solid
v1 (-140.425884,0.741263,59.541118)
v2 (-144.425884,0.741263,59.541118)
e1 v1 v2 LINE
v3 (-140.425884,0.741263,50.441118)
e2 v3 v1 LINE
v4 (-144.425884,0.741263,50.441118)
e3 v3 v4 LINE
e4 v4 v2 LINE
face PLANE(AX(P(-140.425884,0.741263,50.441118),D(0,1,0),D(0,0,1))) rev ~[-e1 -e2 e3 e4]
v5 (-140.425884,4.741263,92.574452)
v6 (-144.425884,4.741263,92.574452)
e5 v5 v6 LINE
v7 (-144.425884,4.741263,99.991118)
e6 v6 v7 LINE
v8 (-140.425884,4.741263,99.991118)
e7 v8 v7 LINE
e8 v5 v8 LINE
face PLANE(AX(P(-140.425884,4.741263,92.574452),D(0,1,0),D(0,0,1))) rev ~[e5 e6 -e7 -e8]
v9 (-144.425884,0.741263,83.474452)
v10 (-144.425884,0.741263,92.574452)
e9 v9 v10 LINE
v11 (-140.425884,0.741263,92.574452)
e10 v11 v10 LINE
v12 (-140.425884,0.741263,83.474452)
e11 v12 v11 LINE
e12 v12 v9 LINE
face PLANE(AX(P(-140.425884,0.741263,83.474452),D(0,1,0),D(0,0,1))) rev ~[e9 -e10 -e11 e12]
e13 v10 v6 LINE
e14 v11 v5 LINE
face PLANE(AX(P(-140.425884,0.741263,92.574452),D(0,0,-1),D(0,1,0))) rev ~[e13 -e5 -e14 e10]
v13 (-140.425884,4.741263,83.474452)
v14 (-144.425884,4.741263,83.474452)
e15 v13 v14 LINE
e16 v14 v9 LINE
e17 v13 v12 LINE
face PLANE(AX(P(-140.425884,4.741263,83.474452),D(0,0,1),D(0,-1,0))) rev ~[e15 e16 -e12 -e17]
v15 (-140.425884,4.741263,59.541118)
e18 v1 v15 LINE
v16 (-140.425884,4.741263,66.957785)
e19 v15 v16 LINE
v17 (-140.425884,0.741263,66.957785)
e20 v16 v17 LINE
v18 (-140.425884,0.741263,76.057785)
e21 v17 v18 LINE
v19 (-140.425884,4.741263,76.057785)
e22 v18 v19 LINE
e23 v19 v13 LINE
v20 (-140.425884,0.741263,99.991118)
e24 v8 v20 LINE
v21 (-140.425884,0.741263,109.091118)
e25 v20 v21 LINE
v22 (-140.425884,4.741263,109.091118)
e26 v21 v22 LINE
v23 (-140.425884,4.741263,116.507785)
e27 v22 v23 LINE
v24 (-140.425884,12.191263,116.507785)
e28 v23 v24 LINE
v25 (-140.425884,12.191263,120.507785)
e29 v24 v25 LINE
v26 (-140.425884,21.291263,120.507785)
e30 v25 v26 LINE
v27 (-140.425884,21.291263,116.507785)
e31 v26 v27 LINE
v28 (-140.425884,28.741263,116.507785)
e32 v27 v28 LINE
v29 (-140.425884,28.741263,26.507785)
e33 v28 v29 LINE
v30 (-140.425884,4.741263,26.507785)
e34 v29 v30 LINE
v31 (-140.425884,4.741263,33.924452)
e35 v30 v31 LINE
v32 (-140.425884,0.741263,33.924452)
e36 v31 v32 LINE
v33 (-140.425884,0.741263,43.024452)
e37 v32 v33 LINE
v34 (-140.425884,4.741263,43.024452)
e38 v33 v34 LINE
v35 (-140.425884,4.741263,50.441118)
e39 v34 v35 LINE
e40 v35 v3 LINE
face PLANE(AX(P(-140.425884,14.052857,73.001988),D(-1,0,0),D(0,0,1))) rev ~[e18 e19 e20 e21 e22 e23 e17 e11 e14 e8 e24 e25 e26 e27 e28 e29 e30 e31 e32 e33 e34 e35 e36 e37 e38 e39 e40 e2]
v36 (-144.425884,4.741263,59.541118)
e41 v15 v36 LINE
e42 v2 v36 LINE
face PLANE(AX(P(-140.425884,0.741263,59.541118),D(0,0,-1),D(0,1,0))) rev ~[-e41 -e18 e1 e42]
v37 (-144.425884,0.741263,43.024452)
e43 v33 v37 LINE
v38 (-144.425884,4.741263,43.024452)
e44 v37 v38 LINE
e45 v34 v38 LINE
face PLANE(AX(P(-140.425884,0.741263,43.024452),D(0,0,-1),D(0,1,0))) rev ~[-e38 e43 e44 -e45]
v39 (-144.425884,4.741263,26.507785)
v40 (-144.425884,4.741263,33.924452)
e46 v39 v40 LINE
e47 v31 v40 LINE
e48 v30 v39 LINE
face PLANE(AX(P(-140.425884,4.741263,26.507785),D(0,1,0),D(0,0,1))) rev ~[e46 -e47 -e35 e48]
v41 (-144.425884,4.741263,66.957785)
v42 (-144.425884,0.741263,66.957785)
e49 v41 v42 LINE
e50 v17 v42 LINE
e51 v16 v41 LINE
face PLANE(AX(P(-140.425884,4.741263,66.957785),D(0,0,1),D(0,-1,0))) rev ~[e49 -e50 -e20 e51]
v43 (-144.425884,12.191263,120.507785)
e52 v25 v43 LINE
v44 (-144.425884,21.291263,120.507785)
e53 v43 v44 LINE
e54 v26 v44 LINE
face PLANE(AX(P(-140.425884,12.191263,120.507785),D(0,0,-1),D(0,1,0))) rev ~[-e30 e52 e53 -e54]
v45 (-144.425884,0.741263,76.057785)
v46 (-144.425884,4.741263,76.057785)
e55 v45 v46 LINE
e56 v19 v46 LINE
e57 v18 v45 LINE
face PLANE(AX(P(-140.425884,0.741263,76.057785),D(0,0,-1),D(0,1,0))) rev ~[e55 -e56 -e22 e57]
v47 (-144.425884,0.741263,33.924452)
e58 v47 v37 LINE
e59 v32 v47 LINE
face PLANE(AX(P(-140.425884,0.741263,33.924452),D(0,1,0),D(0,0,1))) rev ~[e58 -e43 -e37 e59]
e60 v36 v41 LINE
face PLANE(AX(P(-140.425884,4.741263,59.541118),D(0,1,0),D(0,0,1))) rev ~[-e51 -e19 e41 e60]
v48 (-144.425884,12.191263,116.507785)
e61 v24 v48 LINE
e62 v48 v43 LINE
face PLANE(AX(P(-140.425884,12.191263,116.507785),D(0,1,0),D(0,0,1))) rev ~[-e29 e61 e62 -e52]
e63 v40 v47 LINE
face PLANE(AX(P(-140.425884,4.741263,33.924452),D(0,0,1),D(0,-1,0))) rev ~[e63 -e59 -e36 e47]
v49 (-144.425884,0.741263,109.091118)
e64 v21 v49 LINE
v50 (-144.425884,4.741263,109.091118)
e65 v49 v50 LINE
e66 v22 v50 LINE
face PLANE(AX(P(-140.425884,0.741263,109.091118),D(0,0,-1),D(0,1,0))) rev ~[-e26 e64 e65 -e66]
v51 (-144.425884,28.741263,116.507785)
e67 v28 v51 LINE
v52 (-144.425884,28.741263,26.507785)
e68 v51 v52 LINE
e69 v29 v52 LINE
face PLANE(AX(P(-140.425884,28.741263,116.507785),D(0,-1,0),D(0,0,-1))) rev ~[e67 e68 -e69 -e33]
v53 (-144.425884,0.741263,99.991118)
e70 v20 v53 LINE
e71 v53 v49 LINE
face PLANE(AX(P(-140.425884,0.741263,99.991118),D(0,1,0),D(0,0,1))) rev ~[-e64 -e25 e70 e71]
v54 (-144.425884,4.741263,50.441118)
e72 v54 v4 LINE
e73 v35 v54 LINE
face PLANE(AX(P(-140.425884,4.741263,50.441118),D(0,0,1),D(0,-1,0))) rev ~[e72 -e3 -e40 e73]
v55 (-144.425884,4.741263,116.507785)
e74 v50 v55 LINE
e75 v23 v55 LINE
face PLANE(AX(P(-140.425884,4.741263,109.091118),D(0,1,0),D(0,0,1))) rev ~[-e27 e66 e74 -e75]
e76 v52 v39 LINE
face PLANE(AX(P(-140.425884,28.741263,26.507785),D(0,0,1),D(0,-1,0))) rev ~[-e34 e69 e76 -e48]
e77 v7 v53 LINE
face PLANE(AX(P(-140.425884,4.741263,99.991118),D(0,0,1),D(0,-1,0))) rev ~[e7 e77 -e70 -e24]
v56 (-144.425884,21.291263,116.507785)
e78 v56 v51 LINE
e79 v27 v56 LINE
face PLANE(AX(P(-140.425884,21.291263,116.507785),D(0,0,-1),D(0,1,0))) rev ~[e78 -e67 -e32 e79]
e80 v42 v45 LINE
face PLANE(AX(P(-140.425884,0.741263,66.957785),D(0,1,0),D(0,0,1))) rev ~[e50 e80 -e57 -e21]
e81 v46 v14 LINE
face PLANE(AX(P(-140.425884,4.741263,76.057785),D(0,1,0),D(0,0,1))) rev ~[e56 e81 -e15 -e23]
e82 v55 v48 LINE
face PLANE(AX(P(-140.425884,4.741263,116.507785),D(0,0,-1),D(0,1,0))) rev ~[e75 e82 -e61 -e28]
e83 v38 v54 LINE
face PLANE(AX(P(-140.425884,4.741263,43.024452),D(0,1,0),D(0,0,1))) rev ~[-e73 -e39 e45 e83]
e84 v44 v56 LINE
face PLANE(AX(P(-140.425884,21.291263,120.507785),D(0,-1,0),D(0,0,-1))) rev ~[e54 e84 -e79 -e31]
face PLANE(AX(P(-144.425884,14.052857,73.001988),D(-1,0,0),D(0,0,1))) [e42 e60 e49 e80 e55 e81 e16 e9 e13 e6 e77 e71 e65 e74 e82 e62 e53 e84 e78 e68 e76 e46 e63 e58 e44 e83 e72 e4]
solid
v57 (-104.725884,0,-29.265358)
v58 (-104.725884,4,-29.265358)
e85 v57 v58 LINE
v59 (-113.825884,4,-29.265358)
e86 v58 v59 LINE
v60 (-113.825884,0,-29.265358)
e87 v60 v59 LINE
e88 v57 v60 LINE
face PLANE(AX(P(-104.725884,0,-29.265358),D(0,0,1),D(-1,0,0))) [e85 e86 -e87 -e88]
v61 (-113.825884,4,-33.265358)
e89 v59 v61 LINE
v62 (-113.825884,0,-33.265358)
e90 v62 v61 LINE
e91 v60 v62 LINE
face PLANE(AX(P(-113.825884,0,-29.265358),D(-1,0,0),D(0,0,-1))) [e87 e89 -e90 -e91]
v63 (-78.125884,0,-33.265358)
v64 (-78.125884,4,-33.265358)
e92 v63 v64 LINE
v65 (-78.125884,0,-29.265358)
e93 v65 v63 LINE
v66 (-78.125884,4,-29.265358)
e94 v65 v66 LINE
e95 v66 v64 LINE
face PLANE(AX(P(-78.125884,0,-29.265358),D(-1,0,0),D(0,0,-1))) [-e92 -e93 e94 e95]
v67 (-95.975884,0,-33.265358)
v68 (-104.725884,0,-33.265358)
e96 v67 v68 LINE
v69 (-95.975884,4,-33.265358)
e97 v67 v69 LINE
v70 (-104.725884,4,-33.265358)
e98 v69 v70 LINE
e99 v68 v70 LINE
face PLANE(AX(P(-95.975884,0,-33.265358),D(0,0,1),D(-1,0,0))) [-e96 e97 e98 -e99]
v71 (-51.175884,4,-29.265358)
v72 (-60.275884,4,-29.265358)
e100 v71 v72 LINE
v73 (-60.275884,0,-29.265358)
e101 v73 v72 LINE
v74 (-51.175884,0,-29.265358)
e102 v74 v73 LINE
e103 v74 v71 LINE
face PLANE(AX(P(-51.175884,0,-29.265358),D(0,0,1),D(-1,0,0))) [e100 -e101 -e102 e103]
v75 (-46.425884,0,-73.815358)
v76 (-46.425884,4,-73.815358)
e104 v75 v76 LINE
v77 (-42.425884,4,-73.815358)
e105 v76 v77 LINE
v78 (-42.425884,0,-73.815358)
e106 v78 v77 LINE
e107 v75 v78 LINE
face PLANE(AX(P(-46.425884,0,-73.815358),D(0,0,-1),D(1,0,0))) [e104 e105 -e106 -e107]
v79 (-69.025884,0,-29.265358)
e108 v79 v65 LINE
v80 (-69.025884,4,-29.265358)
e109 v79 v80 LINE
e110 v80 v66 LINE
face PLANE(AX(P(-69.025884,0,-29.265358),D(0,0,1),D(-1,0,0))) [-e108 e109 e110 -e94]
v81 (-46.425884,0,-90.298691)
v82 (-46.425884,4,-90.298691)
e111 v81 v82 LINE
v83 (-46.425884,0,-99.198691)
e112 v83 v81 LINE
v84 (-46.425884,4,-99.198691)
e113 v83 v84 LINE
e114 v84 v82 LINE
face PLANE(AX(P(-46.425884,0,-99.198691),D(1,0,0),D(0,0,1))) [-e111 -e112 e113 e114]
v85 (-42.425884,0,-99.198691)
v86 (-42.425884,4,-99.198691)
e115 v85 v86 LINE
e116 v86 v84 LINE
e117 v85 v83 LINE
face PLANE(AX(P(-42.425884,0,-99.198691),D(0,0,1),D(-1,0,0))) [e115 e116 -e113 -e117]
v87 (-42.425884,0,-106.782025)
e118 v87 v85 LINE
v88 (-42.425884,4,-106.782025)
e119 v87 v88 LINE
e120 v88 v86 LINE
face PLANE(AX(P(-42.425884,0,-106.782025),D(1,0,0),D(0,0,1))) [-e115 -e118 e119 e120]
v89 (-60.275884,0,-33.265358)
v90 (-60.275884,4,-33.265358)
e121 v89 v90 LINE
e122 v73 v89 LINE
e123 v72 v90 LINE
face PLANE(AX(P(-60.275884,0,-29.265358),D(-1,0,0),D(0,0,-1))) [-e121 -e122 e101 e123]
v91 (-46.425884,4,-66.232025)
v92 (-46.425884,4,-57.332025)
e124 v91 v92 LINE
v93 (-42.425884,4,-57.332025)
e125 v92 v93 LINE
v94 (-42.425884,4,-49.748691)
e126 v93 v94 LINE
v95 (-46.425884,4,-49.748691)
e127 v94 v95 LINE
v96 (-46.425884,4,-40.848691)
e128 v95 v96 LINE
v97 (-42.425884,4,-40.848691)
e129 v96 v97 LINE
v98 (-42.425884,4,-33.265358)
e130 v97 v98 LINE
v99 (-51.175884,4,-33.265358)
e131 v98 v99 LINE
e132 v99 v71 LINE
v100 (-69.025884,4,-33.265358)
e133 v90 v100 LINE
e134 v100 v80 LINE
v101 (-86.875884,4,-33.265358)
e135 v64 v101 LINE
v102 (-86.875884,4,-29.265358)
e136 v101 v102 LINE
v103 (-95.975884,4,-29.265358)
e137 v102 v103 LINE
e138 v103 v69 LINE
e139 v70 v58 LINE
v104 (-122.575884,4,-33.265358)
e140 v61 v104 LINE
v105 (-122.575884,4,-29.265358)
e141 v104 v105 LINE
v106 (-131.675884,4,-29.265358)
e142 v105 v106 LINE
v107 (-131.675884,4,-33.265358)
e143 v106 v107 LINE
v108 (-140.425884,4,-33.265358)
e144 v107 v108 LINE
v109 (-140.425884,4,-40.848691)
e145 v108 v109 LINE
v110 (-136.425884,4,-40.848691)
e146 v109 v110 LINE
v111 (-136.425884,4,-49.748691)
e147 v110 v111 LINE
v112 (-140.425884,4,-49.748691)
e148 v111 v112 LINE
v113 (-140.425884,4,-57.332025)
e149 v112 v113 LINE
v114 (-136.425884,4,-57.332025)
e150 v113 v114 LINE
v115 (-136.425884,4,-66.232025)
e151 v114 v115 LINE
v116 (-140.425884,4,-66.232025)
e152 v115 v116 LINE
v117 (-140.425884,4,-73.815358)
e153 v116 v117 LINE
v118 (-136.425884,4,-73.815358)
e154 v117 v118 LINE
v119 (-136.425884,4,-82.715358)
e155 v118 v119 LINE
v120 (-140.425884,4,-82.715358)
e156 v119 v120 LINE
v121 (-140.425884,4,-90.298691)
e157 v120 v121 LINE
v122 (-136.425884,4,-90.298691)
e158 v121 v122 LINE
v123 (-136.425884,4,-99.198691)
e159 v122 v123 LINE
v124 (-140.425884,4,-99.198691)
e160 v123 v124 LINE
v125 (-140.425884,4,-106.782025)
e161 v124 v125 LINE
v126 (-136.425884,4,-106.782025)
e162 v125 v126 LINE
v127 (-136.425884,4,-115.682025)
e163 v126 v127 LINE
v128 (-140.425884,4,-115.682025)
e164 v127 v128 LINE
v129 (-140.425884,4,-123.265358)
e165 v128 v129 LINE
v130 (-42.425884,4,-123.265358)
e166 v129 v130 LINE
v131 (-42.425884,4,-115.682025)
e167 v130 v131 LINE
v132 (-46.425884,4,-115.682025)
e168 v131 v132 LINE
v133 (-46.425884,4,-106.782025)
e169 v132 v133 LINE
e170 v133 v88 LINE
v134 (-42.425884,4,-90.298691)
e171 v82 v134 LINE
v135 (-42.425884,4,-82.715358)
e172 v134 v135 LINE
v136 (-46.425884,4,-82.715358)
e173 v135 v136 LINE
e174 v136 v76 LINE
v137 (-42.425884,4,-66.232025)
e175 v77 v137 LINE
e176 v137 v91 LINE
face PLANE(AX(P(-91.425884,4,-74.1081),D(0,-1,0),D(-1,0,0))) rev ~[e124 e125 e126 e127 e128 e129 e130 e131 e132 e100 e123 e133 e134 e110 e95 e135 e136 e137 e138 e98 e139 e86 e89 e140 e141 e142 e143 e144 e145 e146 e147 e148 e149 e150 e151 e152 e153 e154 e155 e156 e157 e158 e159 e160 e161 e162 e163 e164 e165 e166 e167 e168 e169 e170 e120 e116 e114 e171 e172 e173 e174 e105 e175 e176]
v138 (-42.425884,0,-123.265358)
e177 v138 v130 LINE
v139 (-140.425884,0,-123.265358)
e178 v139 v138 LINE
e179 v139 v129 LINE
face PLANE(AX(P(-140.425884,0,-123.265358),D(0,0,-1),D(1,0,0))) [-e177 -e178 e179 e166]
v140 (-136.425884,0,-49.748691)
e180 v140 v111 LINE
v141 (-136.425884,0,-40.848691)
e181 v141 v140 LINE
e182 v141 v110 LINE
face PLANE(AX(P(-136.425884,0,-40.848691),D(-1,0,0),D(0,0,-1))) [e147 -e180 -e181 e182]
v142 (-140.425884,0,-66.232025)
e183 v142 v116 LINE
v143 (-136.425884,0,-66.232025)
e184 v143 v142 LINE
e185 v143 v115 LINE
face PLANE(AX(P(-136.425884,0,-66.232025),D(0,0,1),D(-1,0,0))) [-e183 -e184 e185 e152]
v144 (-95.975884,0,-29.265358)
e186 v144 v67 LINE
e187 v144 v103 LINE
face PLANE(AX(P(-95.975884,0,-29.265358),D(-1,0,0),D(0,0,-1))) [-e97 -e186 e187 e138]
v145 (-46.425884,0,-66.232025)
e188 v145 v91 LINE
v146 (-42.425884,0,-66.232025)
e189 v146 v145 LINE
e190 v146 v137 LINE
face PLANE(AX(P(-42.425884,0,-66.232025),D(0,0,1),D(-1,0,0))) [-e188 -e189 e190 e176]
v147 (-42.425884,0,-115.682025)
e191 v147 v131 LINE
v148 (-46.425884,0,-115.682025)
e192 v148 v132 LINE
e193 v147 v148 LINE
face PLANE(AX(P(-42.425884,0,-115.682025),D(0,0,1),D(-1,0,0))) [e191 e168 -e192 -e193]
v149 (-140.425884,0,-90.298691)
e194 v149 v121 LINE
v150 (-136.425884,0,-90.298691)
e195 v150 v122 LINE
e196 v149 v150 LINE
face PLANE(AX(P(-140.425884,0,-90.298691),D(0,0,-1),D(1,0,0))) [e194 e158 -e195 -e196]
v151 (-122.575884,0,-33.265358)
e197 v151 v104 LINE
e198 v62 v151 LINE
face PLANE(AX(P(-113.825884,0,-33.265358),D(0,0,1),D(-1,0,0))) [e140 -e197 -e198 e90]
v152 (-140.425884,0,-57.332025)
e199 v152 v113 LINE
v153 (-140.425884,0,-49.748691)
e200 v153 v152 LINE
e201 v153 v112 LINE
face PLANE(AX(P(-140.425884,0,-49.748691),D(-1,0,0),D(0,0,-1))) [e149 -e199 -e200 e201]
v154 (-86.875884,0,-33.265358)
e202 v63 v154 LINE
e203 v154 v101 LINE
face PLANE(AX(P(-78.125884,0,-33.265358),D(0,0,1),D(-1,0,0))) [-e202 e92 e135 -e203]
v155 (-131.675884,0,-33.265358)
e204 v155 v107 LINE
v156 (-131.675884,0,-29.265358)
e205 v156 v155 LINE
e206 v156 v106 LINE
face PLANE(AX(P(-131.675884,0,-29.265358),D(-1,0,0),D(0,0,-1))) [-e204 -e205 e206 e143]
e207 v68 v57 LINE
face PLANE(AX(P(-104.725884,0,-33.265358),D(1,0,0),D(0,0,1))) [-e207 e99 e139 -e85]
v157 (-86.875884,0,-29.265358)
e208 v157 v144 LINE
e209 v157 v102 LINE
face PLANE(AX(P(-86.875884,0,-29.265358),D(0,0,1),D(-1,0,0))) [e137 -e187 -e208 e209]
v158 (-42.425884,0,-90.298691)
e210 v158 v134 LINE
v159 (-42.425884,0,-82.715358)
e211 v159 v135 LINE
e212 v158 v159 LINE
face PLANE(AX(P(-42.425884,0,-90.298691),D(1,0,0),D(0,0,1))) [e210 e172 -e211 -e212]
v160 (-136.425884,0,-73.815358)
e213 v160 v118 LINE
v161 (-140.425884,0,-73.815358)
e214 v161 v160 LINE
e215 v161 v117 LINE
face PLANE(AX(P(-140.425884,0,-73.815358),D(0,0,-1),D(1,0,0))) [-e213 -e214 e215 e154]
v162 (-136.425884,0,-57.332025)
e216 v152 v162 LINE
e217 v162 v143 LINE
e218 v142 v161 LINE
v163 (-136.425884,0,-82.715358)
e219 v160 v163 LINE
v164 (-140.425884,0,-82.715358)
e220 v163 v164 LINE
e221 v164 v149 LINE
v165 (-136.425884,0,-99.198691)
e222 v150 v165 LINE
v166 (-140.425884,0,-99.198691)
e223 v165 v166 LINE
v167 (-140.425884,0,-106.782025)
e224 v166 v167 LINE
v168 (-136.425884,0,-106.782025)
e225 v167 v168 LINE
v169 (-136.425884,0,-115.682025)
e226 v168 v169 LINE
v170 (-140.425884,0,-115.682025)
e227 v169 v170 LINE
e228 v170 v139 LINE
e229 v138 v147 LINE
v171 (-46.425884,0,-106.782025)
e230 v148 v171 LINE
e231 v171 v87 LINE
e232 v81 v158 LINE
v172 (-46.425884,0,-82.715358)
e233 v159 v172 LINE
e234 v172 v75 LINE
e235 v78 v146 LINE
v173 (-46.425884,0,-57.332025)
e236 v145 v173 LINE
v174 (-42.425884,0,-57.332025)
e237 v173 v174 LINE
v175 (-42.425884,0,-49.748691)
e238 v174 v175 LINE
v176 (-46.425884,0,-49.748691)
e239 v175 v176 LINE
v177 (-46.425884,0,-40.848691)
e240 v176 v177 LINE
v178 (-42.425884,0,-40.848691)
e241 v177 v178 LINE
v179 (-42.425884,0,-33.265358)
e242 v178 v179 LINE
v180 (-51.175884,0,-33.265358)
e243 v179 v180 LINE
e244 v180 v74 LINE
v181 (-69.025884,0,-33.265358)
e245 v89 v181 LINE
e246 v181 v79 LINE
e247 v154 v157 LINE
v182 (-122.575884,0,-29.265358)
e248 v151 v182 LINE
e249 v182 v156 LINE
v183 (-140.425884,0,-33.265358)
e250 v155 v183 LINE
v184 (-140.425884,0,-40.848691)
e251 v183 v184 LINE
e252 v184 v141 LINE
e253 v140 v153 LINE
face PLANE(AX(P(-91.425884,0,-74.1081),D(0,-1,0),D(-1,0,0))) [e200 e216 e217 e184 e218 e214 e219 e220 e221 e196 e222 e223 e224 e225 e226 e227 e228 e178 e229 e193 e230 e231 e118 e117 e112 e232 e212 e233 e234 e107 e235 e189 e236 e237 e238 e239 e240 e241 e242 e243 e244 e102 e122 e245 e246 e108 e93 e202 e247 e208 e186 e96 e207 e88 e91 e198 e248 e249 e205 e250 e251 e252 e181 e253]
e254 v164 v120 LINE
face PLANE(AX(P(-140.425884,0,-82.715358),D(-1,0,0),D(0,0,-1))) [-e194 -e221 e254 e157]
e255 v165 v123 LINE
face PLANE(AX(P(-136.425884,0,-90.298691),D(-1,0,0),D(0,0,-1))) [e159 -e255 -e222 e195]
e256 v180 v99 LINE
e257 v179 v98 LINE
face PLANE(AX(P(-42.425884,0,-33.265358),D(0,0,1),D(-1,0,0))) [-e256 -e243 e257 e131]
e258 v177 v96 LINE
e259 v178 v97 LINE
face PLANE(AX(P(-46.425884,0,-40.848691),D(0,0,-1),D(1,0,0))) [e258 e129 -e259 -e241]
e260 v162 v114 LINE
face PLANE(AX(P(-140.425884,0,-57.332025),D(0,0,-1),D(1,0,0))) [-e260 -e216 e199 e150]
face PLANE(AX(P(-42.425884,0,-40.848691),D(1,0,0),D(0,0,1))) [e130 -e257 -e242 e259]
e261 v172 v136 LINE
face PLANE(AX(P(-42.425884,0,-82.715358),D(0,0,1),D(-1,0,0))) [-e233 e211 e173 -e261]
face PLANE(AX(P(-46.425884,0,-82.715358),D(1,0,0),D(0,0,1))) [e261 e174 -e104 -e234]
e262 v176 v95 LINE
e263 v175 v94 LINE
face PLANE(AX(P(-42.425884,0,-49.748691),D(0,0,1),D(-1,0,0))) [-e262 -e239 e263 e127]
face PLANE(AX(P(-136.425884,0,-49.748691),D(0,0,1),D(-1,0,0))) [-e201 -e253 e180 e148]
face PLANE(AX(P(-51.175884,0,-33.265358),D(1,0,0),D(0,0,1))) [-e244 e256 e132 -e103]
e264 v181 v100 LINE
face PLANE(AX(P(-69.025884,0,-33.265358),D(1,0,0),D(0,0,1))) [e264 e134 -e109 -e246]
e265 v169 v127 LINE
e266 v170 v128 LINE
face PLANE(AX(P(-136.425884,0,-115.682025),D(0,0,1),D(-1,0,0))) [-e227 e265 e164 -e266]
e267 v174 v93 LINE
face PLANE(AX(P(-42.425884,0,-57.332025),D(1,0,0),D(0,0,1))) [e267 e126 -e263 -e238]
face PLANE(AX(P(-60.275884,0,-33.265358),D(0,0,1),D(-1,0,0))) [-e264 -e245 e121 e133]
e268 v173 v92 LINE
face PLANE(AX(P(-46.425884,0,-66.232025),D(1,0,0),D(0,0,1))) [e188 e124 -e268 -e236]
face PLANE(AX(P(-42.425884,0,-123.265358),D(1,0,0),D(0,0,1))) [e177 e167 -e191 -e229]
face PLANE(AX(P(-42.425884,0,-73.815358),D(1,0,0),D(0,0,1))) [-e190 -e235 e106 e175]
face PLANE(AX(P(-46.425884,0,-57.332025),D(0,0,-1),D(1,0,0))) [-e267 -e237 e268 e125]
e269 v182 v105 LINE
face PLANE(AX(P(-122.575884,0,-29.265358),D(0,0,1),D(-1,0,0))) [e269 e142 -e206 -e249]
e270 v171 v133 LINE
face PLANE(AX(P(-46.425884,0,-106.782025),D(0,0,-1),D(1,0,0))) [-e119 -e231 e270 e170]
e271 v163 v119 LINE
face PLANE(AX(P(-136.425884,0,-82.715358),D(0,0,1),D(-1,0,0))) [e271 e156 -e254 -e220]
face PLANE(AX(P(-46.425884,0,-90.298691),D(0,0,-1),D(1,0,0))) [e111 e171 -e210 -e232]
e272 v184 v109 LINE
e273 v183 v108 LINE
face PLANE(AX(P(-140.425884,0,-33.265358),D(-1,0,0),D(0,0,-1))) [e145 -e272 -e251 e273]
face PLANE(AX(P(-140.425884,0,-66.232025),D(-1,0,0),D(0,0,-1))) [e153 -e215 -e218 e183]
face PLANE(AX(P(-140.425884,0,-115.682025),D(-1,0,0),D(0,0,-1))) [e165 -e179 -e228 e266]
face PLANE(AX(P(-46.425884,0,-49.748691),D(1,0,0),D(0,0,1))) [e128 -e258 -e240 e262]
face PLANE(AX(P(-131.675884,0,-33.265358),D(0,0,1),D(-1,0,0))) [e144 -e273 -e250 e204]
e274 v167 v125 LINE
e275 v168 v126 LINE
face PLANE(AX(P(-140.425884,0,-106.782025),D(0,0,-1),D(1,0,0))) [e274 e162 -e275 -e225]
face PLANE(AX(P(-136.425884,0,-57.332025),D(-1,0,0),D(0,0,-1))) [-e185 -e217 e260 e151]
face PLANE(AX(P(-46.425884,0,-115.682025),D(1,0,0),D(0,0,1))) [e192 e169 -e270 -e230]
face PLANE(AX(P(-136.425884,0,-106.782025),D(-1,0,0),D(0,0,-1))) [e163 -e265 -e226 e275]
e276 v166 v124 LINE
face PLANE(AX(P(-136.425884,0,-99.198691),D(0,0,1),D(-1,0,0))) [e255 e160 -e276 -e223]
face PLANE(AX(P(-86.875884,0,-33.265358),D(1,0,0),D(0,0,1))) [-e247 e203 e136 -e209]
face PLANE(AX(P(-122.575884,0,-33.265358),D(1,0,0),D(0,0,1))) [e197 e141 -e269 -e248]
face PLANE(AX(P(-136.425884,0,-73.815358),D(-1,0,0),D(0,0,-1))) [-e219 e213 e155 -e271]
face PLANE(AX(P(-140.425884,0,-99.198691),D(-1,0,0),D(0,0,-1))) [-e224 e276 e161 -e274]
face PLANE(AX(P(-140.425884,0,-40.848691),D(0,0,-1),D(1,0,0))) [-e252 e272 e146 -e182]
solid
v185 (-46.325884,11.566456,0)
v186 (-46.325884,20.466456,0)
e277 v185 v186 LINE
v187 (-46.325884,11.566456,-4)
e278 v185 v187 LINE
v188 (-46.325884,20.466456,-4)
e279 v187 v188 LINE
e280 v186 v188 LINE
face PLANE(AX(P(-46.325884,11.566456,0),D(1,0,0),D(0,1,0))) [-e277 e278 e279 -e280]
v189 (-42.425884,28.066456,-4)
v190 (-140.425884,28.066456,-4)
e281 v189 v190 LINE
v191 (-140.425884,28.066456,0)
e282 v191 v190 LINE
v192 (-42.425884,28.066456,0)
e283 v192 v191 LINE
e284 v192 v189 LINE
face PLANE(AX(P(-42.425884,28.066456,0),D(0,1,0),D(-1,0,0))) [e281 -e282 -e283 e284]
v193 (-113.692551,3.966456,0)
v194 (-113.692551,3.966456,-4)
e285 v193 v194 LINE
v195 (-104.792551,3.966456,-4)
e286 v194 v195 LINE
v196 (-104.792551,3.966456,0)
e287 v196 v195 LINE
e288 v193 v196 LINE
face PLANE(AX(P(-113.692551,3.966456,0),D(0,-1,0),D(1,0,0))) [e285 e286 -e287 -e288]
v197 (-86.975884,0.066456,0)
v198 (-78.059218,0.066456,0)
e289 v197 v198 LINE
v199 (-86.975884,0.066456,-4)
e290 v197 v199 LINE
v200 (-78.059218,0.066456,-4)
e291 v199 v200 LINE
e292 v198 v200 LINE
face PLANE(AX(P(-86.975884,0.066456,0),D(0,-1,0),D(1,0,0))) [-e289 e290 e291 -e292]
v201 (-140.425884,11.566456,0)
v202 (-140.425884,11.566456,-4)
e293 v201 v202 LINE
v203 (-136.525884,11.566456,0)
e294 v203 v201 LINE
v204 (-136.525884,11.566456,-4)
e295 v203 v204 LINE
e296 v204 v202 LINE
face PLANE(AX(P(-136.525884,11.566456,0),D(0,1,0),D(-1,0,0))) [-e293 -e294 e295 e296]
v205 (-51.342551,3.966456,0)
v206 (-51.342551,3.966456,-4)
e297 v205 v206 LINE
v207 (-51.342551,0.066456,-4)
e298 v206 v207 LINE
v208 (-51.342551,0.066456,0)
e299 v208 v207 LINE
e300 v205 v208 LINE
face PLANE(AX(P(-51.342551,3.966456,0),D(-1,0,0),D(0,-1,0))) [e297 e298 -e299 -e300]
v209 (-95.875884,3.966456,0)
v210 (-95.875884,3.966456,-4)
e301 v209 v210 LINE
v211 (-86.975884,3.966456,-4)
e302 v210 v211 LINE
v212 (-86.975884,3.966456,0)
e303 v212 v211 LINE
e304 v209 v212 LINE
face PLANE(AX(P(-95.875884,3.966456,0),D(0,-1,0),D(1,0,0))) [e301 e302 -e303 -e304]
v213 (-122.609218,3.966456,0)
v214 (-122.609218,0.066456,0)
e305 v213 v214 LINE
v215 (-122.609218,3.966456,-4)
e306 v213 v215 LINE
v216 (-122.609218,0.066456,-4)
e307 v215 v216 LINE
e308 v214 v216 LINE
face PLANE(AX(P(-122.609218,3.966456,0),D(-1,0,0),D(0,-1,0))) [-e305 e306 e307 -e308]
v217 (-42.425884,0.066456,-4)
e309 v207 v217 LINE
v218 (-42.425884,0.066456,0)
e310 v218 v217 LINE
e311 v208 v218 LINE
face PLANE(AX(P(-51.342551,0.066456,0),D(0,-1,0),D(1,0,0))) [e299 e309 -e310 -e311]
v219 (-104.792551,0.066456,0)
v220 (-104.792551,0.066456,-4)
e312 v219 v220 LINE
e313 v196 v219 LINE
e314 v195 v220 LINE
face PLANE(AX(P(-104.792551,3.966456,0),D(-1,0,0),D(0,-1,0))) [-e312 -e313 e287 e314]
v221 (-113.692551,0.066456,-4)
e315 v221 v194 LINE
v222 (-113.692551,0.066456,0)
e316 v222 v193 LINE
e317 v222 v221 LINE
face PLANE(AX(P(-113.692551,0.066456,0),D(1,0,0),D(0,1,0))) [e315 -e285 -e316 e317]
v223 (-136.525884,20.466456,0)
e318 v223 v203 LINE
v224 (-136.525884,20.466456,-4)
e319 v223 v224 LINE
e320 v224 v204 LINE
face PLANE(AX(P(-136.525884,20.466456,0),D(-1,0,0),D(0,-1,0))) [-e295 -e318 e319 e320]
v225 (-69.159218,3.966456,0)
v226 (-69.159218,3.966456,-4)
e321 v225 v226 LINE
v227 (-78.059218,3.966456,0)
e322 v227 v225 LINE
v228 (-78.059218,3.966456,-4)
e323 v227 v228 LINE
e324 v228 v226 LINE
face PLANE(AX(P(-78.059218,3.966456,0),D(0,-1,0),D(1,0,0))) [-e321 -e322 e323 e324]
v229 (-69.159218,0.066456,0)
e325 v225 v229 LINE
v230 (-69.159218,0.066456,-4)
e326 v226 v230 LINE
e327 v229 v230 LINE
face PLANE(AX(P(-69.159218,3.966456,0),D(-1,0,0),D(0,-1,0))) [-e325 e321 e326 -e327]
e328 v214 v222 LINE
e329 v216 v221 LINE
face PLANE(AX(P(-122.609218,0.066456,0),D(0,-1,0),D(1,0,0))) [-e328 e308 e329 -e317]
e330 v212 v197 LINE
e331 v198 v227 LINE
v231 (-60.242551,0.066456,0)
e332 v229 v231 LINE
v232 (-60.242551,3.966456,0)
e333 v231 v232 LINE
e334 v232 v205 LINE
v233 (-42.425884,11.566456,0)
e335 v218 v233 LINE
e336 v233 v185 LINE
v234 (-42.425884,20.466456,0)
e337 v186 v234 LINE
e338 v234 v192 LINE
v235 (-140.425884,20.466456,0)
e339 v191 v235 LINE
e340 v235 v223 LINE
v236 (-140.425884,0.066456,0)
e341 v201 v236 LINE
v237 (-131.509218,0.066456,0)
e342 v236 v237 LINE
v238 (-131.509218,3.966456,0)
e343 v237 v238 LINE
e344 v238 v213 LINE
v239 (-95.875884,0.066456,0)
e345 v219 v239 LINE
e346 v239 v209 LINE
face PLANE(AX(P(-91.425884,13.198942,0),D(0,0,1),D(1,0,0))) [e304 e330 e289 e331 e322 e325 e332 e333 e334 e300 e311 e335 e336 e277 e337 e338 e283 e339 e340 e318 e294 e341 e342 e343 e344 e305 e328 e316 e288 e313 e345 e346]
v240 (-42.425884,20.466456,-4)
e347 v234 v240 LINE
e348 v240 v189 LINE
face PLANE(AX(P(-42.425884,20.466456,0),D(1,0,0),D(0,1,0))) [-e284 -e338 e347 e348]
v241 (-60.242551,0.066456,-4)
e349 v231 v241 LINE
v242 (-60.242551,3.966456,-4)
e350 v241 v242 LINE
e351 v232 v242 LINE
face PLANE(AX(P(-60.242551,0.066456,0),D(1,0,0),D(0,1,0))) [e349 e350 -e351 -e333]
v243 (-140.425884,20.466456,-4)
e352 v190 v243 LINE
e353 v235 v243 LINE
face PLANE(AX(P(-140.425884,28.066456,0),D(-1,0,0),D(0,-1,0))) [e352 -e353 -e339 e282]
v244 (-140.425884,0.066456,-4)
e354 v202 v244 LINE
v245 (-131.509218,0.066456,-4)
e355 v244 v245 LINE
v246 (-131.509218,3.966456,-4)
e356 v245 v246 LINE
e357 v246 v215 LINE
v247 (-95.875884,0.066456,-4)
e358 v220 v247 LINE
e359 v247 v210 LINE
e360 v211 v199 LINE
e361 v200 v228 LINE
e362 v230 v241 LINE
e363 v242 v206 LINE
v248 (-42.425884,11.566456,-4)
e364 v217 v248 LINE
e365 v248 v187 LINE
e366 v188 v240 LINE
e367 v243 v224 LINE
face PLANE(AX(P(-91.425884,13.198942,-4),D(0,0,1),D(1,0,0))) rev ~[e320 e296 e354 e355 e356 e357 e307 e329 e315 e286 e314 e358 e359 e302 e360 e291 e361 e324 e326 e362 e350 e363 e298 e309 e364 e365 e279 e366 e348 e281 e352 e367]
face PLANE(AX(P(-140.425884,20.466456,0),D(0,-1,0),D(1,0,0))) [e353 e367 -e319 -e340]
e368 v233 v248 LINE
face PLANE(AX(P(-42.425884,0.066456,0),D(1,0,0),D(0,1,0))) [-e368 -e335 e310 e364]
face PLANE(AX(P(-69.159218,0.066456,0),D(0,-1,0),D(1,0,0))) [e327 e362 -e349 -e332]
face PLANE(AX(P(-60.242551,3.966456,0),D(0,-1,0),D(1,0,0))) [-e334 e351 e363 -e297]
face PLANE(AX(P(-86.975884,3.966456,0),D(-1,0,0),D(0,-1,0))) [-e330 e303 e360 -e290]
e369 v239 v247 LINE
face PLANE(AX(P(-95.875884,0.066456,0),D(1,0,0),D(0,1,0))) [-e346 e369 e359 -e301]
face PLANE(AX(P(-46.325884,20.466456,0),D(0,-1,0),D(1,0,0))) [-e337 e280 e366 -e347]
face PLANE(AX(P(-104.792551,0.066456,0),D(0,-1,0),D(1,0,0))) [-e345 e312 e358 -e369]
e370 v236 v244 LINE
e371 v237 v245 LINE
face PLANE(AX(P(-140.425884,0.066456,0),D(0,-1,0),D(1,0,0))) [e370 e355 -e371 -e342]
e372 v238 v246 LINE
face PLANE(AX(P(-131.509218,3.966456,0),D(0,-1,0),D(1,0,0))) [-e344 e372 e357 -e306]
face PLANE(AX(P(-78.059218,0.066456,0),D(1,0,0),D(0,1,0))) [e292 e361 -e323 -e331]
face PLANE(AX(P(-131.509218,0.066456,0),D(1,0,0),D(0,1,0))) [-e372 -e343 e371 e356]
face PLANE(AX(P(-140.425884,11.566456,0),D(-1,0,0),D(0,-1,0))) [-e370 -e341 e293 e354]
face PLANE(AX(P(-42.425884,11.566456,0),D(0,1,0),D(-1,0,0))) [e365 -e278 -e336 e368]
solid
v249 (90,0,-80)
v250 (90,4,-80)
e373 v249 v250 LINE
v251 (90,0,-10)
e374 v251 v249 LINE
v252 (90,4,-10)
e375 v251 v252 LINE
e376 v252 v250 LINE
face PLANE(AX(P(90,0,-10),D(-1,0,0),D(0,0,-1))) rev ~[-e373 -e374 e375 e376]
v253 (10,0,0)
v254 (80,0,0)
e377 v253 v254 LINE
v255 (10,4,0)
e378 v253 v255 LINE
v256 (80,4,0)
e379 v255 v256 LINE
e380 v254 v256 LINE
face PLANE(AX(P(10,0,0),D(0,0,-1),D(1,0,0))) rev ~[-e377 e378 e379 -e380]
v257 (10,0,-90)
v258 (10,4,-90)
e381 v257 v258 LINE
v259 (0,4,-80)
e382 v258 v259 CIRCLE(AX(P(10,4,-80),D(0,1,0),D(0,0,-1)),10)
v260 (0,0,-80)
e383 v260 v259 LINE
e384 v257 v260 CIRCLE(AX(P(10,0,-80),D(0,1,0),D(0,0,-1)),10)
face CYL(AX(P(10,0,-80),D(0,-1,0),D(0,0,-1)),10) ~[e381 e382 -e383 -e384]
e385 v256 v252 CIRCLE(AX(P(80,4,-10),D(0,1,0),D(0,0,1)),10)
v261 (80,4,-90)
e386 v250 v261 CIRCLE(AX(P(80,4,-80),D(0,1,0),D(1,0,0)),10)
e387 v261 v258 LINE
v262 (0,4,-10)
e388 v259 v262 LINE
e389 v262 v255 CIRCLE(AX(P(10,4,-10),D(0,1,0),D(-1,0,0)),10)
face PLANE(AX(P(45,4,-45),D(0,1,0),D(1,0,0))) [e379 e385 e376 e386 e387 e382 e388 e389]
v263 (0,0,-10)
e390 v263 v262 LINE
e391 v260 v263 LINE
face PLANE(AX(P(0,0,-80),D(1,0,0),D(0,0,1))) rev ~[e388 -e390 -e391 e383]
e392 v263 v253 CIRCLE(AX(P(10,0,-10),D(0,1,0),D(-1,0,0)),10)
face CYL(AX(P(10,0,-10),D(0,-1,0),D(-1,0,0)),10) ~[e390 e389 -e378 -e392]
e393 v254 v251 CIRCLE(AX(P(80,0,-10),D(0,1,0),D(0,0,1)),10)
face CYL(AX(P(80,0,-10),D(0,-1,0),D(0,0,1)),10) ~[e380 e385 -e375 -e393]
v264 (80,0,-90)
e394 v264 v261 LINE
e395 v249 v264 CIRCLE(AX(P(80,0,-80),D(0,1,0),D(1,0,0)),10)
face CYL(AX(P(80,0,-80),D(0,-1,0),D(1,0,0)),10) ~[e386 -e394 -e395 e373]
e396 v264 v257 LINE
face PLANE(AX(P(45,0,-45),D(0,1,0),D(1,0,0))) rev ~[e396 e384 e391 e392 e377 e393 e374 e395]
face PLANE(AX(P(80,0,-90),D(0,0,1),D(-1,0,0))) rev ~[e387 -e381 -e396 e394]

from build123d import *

# Parameters (mm, degrees)
BOSS_EXTRUDE1_DEPTH = 4
BOSS_EXTRUDE2_DEPTH = 4
BOSS_EXTRUDE3_DEPTH = 4
BOSS_EXTRUDE4_DEPTH = 4


with BuildPart() as part:
    # Sketch1 → Boss-Extrude1 (new body)
    with BuildSketch(Plane(origin=(0, 0, 0), x_dir=(1, 0, 0), z_dir=(0, 1, 0))):
        with BuildLine():
            Line((10, 0), (80, 0))
            ThreePointArc((80, 0), (87.071067812, 2.928932188), (90, 10))
            Line((90, 10), (90, 80))
            ThreePointArc((90, 80), (87.071067812, 87.071067812), (80, 90))
            Line((80, 90), (10, 90))
            ThreePointArc((10, 90), (2.928932188, 87.071067812), (0, 80))
            Line((0, 80), (0, 10))
            ThreePointArc((0, 10), (2.928932188, 2.928932188), (10, 0))
        make_face()
    extrude(amount=BOSS_EXTRUDE1_DEPTH)


with BuildPart() as body_2:
    # Sketch2 → Boss-Extrude2 (new body)
    with BuildSketch(Plane.XY):
        Polygon((-140.425884488, 0.066456233), (-131.509217822, 0.066456233), (-131.509217822, 3.966456233), (-122.609217822, 3.966456233), (-122.609217822, 0.066456233), (-113.692551155, 0.066456233), (-113.692551155, 3.966456233), (-104.792551155, 3.966456233), (-104.792551155, 0.066456233), (-95.875884488, 0.066456233), (-95.875884488, 3.966456233), (-86.975884488, 3.966456233), (-86.975884488, 0.066456233), (-78.059217822, 0.066456233), (-78.059217822, 3.966456233), (-69.159217822, 3.966456233), (-69.159217822, 0.066456233), (-60.242551155, 0.066456233), (-60.242551155, 3.966456233), (-51.342551155, 3.966456233), (-51.342551155, 0.066456233), (-42.425884488, 0.066456233), (-42.425884488, 11.566456233), (-46.325884488, 11.566456233), (-46.325884488, 20.466456233), (-42.425884488, 20.466456233), (-42.425884488, 28.066456233), (-140.425884488, 28.066456233), (-140.425884488, 20.466456233), (-136.525884488, 20.466456233), (-136.525884488, 11.566456233), (-140.425884488, 11.566456233), align=None)
    extrude(amount=-BOSS_EXTRUDE2_DEPTH)


with BuildPart() as body_3:
    # Sketch4 → Boss-Extrude3 (new body)
    with BuildSketch(Plane(origin=(0, 0, 0), x_dir=(1, 0, 0), z_dir=(0, 1, 0))):
        Polygon((-51.175884488, 29.265358113), (-60.275884488, 29.265358113), (-60.275884488, 33.265358113), (-69.025884488, 33.265358113), (-69.025884488, 29.265358113), (-78.125884488, 29.265358113), (-78.125884488, 33.265358113), (-86.875884488, 33.265358113), (-86.875884488, 29.265358113), (-95.975884488, 29.265358113), (-95.975884488, 33.265358113), (-104.725884488, 33.265358113), (-104.725884488, 29.265358113), (-113.825884488, 29.265358113), (-113.825884488, 33.265358113), (-122.575884488, 33.265358113), (-122.575884488, 29.265358113), (-131.675884488, 29.265358113), (-131.675884488, 33.265358113), (-140.425884488, 33.265358113), (-140.425884488, 40.848691447), (-136.425884488, 40.848691447), (-136.425884488, 49.748691447), (-140.425884488, 49.748691447), (-140.425884488, 57.33202478), (-136.425884488, 57.33202478), (-136.425884488, 66.23202478), (-140.425884488, 66.23202478), (-140.425884488, 73.815358113), (-136.425884488, 73.815358113), (-136.425884488, 82.715358113), (-140.425884488, 82.715358113), (-140.425884488, 90.298691447), (-136.425884488, 90.298691447), (-136.425884488, 99.198691447), (-140.425884488, 99.198691447), (-140.425884488, 106.78202478), (-136.425884488, 106.78202478), (-136.425884488, 115.68202478), (-140.425884488, 115.68202478), (-140.425884488, 123.265358113), (-42.425884488, 123.265358113), (-42.425884488, 115.68202478), (-46.425884488, 115.68202478), (-46.425884488, 106.78202478), (-42.425884488, 106.78202478), (-42.425884488, 99.198691447), (-46.425884488, 99.198691447), (-46.425884488, 90.298691447), (-42.425884488, 90.298691447), (-42.425884488, 82.715358113), (-46.425884488, 82.715358113), (-46.425884488, 73.815358113), (-42.425884488, 73.815358113), (-42.425884488, 66.23202478), (-46.425884488, 66.23202478), (-46.425884488, 57.33202478), (-42.425884488, 57.33202478), (-42.425884488, 49.748691447), (-46.425884488, 49.748691447), (-46.425884488, 40.848691447), (-42.425884488, 40.848691447), (-42.425884488, 33.265358113), (-51.175884488, 33.265358113), align=None)
    extrude(amount=BOSS_EXTRUDE3_DEPTH)


with BuildPart() as body_4:
    # Sketch5 → Boss-Extrude4 (new body)
    with BuildSketch(Plane.ZY.offset(140.425884488)):
        Polygon((120.507785088, 21.291262613), (116.507785088, 21.291262613), (116.507785088, 28.741262613), (26.507785088, 28.741262613), (26.507785088, 4.741262613), (33.924451754, 4.741262613), (33.924451754, 0.741262613), (43.024451754, 0.741262613), (43.024451754, 4.741262613), (50.441118421, 4.741262613), (50.441118421, 0.741262613), (59.541118421, 0.741262613), (59.541118421, 4.741262613), (66.957785088, 4.741262613), (66.957785088, 0.741262613), (76.057785088, 0.741262613), (76.057785088, 4.741262613), (83.474451754, 4.741262613), (83.474451754, 0.741262613), (92.574451754, 0.741262613), (92.574451754, 4.741262613), (99.991118421, 4.741262613), (99.991118421, 0.741262613), (109.091118421, 0.741262613), (109.091118421, 4.741262613), (116.507785088, 4.741262613), (116.507785088, 12.191262613), (120.507785088, 12.191262613), align=None)
    extrude(amount=BOSS_EXTRUDE4_DEPTH)


solid = Compound([part.part, body_2.part, body_3.part, body_4.part])
